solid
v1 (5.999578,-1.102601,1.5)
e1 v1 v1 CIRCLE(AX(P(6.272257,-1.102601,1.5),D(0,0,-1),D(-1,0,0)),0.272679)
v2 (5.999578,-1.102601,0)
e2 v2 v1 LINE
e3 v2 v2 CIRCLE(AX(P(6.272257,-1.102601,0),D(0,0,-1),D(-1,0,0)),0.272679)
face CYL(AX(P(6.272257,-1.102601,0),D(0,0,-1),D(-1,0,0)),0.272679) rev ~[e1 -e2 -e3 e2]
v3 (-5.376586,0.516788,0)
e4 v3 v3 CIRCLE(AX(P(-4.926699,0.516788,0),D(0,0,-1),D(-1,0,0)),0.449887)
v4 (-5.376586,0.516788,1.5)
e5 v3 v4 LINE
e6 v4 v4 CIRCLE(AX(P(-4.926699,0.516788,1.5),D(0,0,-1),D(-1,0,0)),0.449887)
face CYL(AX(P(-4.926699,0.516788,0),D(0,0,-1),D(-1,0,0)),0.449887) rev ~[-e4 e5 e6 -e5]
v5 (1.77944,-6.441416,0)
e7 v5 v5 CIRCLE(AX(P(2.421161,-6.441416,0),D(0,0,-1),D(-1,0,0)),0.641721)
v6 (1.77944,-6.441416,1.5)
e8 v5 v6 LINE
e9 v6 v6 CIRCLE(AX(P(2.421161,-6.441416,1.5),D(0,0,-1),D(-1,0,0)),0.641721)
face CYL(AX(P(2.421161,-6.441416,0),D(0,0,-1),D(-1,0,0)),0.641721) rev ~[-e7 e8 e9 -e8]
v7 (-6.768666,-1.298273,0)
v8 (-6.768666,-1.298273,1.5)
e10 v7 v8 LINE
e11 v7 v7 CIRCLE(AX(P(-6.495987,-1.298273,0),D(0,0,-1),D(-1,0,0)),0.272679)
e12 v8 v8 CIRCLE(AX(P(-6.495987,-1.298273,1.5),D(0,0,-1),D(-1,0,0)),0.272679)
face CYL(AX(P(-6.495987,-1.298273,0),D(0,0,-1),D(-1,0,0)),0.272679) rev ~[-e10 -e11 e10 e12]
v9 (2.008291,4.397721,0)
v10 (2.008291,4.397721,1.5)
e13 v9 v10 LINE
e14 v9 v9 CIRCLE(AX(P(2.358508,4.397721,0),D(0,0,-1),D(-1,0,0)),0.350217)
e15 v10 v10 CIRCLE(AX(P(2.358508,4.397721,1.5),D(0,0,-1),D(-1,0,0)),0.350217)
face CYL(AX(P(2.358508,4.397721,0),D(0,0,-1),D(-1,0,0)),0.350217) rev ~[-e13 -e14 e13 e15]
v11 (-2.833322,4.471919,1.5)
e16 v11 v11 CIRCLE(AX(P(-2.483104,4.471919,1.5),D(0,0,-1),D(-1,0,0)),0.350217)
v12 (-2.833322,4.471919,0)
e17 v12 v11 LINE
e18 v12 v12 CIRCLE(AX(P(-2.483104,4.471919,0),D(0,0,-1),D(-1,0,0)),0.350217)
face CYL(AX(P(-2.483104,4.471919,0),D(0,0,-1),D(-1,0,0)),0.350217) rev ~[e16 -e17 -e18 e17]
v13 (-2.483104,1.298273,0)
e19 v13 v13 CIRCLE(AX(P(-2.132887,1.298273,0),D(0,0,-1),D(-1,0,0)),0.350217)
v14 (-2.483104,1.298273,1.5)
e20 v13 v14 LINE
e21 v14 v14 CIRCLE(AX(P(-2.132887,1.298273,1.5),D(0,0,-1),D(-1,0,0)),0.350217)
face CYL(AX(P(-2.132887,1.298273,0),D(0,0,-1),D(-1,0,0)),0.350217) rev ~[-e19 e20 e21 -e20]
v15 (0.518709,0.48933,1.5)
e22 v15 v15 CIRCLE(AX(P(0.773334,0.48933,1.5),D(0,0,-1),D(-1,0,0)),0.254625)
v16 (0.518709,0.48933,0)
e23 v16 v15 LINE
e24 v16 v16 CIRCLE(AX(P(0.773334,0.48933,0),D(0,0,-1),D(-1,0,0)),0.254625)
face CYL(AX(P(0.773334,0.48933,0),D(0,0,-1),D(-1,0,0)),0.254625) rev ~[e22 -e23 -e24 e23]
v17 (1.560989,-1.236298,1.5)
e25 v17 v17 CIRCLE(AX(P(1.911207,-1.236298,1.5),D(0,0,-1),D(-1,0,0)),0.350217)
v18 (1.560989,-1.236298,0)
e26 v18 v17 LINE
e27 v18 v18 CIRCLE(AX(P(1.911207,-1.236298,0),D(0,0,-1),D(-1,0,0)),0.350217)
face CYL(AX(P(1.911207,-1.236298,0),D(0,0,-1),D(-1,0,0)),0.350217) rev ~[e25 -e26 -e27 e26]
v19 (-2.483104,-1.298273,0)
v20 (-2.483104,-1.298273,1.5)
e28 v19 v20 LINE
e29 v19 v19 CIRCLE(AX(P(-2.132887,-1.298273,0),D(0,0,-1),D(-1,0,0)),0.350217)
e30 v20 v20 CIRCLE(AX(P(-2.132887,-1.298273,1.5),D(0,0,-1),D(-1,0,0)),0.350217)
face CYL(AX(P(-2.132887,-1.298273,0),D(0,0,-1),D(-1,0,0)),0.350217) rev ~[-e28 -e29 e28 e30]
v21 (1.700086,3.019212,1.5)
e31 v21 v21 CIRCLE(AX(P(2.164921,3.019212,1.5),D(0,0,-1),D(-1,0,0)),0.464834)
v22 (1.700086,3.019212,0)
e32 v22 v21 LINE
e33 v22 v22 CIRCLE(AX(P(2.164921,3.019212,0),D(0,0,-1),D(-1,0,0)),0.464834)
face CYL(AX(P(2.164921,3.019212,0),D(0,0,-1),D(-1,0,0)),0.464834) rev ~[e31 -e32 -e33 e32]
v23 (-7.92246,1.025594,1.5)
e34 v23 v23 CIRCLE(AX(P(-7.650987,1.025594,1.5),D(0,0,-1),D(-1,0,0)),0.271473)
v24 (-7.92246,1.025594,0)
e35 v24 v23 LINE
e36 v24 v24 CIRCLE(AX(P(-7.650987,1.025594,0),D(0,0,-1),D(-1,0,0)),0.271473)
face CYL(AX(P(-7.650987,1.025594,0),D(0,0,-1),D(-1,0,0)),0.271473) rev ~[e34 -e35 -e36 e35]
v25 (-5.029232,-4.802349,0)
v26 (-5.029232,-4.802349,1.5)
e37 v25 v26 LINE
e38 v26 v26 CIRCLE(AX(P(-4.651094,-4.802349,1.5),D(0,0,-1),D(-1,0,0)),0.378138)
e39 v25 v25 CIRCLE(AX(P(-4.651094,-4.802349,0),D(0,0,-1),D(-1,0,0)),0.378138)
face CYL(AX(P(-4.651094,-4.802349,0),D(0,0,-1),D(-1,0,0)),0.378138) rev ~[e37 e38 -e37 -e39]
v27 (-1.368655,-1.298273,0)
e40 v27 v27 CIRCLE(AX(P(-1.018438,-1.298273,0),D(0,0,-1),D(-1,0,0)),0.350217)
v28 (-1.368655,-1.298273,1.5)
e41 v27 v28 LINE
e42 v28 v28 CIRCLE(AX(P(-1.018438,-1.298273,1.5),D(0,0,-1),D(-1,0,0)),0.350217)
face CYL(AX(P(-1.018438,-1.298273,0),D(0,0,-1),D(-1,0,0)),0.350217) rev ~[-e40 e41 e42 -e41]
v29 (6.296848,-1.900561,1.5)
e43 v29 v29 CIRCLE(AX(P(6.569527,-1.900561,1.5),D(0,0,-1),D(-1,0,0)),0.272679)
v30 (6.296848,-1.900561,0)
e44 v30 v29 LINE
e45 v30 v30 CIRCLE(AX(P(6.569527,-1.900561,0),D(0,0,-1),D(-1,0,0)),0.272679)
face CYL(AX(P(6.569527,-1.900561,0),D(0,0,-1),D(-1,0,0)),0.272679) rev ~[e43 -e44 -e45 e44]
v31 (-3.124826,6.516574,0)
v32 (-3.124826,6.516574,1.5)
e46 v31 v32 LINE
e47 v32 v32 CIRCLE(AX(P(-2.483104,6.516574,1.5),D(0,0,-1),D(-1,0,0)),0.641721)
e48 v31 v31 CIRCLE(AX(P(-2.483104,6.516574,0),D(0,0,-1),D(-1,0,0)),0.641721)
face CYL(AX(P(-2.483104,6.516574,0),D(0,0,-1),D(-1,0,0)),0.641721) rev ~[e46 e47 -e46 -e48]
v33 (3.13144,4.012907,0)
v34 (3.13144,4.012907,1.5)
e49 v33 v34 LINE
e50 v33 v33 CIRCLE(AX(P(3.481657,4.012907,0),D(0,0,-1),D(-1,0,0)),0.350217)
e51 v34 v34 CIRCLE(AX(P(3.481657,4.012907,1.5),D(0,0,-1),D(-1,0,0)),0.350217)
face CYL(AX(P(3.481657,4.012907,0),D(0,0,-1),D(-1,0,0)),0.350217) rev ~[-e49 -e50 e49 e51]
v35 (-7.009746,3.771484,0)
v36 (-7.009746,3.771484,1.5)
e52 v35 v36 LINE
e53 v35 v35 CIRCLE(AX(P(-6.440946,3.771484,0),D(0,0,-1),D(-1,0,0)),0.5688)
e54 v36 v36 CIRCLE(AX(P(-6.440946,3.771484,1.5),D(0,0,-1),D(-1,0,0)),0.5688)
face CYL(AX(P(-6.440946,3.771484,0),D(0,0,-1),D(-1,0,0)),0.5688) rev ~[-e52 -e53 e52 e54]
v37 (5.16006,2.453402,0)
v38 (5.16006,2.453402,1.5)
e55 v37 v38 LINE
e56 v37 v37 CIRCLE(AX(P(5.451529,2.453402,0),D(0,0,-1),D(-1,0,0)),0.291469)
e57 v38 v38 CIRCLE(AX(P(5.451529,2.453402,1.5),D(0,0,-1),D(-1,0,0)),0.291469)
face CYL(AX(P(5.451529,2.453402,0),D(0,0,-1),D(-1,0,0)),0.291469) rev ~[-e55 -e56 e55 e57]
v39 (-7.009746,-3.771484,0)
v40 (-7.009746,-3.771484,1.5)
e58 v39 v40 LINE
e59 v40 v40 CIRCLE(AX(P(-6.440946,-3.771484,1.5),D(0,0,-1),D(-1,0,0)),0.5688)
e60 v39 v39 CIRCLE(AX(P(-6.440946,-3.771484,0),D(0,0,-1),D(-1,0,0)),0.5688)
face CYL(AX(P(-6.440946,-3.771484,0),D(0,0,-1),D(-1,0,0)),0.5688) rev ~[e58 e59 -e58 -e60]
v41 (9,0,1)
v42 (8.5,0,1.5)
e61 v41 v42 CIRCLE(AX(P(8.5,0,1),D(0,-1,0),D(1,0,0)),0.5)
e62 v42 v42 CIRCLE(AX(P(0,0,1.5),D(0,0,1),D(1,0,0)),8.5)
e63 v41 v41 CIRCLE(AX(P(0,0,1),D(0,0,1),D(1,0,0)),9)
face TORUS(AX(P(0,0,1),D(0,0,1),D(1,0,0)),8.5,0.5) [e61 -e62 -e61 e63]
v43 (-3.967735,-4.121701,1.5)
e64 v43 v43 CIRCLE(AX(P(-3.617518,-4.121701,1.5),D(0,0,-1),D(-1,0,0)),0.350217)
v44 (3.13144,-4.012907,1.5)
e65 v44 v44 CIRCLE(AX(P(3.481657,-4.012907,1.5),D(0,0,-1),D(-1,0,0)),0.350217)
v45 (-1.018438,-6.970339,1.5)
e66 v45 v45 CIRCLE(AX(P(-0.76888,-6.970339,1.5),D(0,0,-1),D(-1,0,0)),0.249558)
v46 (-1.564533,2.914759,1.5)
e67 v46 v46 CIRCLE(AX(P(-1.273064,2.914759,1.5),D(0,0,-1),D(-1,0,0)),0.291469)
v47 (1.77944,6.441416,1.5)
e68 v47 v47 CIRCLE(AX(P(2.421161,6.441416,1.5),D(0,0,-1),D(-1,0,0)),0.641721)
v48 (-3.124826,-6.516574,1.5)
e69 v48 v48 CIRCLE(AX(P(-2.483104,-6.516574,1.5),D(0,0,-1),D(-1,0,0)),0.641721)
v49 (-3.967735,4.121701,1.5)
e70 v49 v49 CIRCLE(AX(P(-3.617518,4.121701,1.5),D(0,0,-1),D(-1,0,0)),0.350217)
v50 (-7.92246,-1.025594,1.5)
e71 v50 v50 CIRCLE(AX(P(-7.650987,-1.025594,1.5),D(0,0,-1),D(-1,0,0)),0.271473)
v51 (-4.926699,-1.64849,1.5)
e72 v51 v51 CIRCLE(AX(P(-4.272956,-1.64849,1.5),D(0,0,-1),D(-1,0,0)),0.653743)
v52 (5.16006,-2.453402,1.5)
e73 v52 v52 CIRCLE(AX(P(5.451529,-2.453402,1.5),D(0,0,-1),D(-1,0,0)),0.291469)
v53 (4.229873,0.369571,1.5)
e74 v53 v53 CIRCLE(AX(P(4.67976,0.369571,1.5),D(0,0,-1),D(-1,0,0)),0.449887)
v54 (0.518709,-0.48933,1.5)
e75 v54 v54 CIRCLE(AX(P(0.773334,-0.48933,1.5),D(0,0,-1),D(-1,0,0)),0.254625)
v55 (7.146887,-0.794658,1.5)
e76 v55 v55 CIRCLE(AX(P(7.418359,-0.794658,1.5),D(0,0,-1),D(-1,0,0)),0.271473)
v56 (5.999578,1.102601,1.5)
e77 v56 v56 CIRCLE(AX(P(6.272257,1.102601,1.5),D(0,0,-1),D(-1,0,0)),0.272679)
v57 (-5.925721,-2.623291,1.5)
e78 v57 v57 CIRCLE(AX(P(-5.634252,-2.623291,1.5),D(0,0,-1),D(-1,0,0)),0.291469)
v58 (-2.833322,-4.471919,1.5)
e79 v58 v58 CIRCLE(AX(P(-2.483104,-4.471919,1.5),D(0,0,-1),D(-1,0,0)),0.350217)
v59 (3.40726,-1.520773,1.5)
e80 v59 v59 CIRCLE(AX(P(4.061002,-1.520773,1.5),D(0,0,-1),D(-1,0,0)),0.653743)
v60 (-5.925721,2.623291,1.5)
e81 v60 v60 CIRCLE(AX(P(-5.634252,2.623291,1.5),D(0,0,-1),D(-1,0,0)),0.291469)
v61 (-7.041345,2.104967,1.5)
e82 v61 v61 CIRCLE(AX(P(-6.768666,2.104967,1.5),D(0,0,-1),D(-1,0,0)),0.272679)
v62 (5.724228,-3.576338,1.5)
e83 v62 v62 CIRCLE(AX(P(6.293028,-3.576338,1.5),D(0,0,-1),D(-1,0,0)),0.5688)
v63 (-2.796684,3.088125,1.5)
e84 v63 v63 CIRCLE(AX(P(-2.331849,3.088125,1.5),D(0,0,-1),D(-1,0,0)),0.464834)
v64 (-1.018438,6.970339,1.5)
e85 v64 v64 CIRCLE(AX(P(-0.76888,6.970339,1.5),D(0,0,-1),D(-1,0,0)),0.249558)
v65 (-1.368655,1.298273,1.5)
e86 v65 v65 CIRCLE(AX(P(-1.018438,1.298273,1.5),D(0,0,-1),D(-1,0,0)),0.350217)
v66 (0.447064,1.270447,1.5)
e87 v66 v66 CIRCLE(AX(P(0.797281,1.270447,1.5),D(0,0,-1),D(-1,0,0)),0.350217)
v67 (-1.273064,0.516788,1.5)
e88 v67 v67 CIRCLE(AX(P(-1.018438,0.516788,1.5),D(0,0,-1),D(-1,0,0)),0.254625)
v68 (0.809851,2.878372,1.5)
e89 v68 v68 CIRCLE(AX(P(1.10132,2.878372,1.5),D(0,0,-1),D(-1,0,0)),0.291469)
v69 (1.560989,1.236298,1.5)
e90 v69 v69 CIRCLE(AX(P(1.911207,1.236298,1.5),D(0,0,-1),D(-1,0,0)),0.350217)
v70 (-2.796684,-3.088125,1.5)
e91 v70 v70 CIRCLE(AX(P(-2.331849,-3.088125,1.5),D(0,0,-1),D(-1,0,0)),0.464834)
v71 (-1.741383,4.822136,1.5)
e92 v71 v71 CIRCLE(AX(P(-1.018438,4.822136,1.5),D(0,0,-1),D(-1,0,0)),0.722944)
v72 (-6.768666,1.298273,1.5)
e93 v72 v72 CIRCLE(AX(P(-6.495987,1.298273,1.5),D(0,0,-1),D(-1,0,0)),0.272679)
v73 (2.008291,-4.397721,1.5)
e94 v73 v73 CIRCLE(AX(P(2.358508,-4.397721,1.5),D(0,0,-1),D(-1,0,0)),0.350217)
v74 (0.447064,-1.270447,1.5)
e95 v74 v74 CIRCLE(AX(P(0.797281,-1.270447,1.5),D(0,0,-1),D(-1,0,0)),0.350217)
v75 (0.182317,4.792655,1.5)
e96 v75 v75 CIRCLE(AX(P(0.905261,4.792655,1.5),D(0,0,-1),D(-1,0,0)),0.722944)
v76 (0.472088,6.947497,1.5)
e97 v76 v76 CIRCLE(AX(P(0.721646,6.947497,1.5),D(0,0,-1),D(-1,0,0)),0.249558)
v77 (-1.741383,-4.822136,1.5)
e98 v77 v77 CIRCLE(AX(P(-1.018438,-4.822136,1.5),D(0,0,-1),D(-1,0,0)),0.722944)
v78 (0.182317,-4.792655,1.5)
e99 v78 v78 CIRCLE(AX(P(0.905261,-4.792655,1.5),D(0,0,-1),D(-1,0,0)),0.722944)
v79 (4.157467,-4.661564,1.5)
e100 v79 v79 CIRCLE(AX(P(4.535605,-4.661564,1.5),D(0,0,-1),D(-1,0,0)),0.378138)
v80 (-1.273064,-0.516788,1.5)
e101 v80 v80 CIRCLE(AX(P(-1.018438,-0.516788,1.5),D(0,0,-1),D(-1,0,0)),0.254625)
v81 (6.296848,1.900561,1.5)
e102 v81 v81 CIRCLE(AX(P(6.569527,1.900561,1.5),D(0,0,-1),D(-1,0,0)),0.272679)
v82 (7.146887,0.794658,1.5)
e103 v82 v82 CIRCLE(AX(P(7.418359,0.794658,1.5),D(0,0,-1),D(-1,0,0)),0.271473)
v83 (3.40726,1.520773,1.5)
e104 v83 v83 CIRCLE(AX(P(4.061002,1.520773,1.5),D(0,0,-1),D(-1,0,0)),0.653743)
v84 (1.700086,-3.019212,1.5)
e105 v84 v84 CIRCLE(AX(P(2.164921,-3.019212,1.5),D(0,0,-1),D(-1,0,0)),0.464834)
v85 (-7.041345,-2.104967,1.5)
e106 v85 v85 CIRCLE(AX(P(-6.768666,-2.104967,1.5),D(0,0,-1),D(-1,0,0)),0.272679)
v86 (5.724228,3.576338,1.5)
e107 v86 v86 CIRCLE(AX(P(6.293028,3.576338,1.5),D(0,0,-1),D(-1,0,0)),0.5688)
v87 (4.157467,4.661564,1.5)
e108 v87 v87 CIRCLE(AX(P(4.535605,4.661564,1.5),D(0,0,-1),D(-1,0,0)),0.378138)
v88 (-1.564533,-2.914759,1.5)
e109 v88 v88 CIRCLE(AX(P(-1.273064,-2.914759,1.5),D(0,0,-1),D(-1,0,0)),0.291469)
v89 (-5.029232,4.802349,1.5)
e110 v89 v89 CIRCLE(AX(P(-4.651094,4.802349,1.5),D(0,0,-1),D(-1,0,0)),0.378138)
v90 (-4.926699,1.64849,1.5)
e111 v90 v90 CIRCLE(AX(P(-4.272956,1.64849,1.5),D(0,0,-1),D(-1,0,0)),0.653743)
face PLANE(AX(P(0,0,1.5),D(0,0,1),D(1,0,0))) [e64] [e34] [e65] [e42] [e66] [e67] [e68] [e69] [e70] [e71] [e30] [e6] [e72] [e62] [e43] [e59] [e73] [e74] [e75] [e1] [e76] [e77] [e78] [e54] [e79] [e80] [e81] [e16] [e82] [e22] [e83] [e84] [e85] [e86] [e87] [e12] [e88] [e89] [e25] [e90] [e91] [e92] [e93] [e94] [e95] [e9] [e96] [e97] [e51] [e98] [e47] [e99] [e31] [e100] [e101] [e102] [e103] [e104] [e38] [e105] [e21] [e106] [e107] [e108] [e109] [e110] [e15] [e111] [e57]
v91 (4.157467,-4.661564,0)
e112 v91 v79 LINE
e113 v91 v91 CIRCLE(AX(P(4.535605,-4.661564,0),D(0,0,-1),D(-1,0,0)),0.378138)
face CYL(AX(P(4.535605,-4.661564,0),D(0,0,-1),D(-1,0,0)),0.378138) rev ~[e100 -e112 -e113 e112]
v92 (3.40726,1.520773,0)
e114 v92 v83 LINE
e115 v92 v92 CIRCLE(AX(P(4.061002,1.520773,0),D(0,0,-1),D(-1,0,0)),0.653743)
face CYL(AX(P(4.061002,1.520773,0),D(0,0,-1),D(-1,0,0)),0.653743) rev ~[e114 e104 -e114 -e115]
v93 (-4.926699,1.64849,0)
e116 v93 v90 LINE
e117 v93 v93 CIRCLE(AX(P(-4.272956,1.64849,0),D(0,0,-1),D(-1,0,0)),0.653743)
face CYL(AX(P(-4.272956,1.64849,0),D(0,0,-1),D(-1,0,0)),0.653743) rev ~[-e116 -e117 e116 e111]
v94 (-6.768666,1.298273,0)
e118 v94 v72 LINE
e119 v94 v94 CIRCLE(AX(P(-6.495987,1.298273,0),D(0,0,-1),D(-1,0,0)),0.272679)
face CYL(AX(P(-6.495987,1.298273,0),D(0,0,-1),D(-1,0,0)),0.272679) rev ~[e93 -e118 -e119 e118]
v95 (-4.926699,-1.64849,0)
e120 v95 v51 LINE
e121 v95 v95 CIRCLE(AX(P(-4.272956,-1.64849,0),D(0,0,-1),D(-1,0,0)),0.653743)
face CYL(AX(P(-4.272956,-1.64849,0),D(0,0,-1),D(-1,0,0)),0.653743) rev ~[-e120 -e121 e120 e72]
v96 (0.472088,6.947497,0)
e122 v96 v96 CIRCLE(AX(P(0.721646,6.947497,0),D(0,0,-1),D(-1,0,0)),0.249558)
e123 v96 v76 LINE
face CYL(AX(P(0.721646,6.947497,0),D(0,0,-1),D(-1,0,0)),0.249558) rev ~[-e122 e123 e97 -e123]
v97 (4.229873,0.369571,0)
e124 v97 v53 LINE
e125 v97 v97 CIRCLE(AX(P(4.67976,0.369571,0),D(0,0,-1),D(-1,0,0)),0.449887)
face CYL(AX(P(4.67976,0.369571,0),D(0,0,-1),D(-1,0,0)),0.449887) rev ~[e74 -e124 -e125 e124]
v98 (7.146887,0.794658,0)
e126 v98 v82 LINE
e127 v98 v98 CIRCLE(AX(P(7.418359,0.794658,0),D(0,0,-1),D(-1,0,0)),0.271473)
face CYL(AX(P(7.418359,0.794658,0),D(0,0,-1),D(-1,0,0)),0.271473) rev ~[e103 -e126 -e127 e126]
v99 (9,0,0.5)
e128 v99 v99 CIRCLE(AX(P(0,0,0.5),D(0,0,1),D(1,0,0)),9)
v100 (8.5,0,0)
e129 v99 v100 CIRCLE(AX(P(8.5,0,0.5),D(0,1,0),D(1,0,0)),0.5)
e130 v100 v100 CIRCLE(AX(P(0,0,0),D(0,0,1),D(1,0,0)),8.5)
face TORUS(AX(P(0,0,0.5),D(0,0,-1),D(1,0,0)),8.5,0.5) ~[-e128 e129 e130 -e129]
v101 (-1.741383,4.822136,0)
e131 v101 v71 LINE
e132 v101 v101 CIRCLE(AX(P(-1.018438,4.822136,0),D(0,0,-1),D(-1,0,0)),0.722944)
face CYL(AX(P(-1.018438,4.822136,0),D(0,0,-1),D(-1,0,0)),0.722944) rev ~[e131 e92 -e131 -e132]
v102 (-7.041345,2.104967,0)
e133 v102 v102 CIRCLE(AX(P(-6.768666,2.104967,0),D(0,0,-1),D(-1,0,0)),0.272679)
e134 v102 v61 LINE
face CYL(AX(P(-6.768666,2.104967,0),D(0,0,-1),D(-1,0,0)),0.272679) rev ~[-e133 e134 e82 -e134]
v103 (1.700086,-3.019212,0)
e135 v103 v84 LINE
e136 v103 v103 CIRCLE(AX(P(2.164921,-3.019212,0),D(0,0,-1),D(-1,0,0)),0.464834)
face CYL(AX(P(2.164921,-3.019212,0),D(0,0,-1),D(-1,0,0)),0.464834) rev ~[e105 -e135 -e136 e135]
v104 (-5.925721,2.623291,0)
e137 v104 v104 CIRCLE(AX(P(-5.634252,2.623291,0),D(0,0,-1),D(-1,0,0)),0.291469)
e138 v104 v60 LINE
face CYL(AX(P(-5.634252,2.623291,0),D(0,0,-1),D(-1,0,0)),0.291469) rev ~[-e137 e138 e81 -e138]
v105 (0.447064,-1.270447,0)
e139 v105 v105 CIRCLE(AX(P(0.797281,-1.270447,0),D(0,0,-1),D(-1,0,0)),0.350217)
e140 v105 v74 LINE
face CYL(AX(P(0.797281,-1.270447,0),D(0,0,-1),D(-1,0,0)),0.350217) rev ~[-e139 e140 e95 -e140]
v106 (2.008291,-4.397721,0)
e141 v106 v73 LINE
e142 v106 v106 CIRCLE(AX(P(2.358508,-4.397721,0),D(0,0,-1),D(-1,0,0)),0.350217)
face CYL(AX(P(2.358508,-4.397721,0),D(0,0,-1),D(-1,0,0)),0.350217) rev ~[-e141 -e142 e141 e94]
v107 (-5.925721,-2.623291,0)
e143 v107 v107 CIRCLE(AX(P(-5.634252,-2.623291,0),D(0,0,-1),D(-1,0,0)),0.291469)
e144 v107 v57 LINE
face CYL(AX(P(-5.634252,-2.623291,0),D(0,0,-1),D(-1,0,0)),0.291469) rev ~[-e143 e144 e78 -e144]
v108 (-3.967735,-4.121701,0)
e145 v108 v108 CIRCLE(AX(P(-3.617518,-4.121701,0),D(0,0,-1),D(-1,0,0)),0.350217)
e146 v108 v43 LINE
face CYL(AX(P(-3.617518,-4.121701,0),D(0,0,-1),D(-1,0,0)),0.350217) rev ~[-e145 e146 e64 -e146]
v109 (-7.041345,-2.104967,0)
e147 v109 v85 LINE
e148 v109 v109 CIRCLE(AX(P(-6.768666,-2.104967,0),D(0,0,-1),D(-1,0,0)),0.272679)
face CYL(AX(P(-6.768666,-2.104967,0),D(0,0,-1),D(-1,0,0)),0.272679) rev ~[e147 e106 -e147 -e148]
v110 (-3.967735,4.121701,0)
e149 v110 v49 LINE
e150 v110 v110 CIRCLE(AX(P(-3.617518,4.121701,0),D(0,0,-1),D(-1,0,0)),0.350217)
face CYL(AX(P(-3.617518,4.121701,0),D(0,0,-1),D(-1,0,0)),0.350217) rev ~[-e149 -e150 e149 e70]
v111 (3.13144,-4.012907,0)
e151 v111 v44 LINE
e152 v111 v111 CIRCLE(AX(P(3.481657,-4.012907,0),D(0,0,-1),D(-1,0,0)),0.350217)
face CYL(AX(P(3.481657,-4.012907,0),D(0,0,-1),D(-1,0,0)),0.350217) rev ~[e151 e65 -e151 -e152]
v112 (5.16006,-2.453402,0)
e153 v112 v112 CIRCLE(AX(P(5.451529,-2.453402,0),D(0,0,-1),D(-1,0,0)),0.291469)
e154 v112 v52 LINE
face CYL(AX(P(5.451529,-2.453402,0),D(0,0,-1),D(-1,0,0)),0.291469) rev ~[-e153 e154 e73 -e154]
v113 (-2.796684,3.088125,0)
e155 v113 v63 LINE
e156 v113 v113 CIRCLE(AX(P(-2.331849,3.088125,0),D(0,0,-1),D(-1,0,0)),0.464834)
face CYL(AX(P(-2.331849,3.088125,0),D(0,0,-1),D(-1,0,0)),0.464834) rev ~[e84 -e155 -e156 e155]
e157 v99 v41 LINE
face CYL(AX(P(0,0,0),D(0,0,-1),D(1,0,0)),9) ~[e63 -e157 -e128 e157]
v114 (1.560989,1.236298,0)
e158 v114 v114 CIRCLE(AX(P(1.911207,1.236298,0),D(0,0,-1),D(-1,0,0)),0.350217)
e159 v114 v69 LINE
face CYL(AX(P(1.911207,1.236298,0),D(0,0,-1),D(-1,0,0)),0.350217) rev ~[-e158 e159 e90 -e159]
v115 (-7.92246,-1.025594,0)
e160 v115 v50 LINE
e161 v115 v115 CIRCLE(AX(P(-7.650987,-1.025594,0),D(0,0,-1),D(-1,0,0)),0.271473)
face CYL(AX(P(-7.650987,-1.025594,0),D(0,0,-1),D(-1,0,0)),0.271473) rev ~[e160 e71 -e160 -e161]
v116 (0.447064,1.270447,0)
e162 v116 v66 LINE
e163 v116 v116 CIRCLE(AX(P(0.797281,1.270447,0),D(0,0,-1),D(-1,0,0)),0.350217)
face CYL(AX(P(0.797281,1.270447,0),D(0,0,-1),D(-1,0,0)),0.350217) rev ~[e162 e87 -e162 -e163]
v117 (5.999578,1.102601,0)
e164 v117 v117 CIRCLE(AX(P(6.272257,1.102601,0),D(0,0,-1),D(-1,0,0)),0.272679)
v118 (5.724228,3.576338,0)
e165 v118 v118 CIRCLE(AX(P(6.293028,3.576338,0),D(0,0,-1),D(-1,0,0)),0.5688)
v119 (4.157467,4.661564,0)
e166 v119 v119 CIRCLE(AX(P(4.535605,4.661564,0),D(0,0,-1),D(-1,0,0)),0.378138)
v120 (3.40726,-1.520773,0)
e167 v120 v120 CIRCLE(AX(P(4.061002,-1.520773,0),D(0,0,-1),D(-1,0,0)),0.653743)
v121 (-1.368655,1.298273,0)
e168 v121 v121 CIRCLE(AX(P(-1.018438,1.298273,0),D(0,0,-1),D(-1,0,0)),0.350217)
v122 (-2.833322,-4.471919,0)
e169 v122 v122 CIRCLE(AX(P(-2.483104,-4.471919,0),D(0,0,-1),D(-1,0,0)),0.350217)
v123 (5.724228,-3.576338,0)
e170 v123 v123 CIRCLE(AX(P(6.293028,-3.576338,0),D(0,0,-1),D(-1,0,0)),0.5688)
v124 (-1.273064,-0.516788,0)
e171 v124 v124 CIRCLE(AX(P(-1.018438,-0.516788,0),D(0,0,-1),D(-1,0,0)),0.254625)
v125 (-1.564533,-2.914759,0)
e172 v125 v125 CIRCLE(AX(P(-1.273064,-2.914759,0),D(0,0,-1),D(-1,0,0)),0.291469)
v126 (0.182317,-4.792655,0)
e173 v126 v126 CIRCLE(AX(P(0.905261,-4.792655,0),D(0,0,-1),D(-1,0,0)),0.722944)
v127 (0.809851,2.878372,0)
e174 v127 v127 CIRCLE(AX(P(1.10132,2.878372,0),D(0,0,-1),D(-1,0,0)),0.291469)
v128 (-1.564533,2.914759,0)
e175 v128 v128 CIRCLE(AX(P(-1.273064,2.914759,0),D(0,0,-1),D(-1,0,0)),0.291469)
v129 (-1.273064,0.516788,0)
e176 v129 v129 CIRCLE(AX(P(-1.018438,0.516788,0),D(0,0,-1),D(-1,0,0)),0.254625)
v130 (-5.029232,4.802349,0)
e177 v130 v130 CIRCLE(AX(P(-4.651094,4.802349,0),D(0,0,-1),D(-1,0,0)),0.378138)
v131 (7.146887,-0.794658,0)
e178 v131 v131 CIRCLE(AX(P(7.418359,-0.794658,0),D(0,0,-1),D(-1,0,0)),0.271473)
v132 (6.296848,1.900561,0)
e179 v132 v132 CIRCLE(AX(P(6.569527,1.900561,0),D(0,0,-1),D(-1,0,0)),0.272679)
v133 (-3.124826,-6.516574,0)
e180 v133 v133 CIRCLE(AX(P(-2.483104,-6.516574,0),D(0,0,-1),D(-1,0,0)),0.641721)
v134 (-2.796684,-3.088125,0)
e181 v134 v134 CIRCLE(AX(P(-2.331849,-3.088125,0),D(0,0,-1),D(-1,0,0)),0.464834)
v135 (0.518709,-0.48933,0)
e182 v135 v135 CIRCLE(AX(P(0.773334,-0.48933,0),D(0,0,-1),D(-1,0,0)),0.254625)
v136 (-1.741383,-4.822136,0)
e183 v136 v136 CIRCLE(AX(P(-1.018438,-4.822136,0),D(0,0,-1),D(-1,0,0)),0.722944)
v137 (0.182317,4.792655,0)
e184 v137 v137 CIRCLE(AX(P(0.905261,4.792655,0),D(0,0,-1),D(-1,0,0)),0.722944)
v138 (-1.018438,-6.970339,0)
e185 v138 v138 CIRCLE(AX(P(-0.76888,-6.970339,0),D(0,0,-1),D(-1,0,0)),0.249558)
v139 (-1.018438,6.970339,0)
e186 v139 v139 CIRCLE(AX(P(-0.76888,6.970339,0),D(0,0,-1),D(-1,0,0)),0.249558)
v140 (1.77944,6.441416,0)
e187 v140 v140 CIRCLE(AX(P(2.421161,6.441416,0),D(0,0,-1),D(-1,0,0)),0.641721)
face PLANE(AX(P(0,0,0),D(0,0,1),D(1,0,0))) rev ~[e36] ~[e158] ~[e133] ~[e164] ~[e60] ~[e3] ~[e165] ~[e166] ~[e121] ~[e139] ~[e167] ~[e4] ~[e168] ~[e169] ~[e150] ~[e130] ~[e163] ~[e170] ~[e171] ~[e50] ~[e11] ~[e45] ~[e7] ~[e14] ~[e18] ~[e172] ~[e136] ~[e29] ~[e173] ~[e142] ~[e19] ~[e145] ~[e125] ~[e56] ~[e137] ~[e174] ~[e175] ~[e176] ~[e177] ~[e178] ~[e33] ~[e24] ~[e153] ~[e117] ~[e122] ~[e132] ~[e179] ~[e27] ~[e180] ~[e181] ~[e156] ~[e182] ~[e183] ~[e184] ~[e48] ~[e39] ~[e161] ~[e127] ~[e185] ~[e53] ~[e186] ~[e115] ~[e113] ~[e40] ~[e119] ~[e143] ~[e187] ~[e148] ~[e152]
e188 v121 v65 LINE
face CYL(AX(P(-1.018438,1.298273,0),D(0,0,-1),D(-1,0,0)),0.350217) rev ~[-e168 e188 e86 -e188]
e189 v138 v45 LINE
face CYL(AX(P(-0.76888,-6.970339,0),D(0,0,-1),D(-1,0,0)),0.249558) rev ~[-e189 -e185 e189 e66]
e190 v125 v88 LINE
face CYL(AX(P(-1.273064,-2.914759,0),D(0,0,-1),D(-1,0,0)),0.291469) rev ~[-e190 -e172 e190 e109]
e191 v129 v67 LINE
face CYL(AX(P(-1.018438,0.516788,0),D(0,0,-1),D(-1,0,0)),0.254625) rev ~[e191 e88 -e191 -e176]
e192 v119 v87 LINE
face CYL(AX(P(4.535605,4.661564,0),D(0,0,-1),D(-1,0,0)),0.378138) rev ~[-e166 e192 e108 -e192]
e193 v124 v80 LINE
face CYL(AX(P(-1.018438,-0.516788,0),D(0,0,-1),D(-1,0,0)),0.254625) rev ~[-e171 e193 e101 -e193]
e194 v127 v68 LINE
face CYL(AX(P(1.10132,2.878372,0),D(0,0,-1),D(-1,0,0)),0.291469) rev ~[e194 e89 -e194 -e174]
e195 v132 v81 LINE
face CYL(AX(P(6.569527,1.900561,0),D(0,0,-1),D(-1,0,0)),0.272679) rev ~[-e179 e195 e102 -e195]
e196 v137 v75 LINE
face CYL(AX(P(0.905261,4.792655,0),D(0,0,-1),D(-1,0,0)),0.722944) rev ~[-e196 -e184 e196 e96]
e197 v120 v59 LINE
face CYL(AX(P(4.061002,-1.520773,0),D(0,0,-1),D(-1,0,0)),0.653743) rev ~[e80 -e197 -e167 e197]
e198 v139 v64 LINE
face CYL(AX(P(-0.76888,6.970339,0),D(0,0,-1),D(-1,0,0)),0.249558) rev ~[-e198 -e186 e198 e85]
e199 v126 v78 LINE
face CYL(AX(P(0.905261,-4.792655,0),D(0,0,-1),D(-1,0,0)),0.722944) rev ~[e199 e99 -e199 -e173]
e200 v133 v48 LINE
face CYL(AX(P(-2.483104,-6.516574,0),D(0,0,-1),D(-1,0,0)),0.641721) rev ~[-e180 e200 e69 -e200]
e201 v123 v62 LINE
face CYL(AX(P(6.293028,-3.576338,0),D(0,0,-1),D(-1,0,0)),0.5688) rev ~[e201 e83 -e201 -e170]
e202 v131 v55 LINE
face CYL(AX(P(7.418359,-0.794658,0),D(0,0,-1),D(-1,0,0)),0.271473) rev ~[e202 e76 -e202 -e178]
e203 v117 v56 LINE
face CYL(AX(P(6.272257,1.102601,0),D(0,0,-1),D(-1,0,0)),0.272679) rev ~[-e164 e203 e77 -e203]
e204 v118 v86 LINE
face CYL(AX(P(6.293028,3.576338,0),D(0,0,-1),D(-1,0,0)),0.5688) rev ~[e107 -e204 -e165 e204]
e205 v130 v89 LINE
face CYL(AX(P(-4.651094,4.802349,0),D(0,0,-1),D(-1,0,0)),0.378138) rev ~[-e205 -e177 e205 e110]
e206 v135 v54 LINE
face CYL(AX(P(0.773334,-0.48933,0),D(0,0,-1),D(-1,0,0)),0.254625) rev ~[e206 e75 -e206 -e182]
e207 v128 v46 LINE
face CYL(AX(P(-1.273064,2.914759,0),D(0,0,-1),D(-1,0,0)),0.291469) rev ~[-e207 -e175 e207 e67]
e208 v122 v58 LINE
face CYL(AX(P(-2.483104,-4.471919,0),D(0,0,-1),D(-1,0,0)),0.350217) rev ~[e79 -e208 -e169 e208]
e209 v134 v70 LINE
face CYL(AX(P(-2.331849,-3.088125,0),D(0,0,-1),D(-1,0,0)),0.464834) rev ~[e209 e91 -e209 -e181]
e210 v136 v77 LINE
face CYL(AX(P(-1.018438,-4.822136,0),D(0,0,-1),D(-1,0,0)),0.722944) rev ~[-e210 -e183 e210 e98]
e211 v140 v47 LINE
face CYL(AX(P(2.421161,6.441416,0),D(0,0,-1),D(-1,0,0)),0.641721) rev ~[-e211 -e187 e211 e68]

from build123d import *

# Parameters (mm, degrees)
SKETCH1_R           = 9
BOSS_EXTRUDE1_DEPTH = 1.5
FILLET1_R           = 0.5
SKETCH2_R           = 0.249558175
SKETCH2_R_2         = 0.641721022
SKETCH2_R_3         = 0.350217157
SKETCH2_R_4         = 0.378137739
SKETCH2_R_5         = 0.464834359
SKETCH2_R_6         = 0.653742585
SKETCH2_R_7         = 0.291468835
SKETCH2_R_8         = 0.568800221
SKETCH2_R_9         = 0.272679001
SKETCH2_R_10        = 0.271472764
SKETCH2_R_11        = 0.449886638
SKETCH2_R_12        = 0.722944318
SKETCH2_R_13        = 0.254625476
CUT_EXTRUDE1_DEPTH  = 1.5


with BuildPart() as part:
    # Sketch1 → Boss-Extrude1 (new body)
    with BuildSketch(Plane.XY):
        Circle(SKETCH1_R)
    extrude(amount=BOSS_EXTRUDE1_DEPTH)

    # Fillet1
    fillet1_edges = [part.edges().sort_by_distance(p)[0] for p in [
        (-9, 0, 0),
        (-9, 0, 1.5),
    ]]
    fillet(fillet1_edges, radius=FILLET1_R)

    # Sketch2 → Cut-Extrude1 (cut)
    with BuildSketch(Plane(origin=(0, 0, 0), x_dir=(-1, 0, 0), z_dir=(0, 0, -1))):
        with Locations((0.768880069, 6.970338983)):
            Circle(SKETCH2_R)
        with Locations((2.483104484, 6.516573697)):
            Circle(SKETCH2_R_2)
        with Locations((3.6175177, 4.121701352)):
            Circle(SKETCH2_R_3)
        with Locations((4.651094186, 4.802349281)):
            Circle(SKETCH2_R_4)
        with Locations((2.483104484, 4.471918509)):
            Circle(SKETCH2_R_3)
        with Locations((2.331849389, 3.088124866)):
            Circle(SKETCH2_R_5)
        with Locations((2.132887327, 1.298272903)):
            Circle(SKETCH2_R_3)
        with Locations((4.272956447, 1.64849006)):
            Circle(SKETCH2_R_6)
        with Locations((5.634252306, 2.623290507)):
            Circle(SKETCH2_R_7)
        with Locations((6.440946149, 3.771484195)):
            Circle(SKETCH2_R_8)
        with Locations((6.768665522, 2.104966745)):
            Circle(SKETCH2_R_9)
        with Locations((6.495986521, 1.298272903)):
            Circle(SKETCH2_R_9)
        with Locations((7.650986913, 1.025593902)):
            Circle(SKETCH2_R_10)
        with Locations((4.926699032, 0.516788243)):
            Circle(SKETCH2_R_11)
        with Locations((1.018438244, 4.822135666)):
            Circle(SKETCH2_R_12)
        with Locations((1.27306372, 2.914759342)):
            Circle(SKETCH2_R_7)
        with Locations((1.018438244, 1.298272903)):
            Circle(SKETCH2_R_3)
        with Locations((1.018438244, 0.516788243)):
            Circle(SKETCH2_R_13)
        with Locations((-0.773334123, 0.489329569)):
            Circle(SKETCH2_R_13)
        with Locations((-0.797280796, 1.27044725)):
            Circle(SKETCH2_R_3)
        with Locations((-1.911206542, 1.236297701)):
            Circle(SKETCH2_R_3)
        with Locations((-1.101319949, 2.878372227)):
            Circle(SKETCH2_R_7)
        with Locations((-2.164920779, 3.01921246)):
            Circle(SKETCH2_R_5)
        with Locations((-4.679759619, 0.369570539)):
            Circle(SKETCH2_R_11)
        with Locations((-4.061002244, 1.520773249)):
            Circle(SKETCH2_R_6)
        with Locations((-5.451529208, 2.453402377)):
            Circle(SKETCH2_R_7)
        with Locations((-6.272256856, 1.102601268)):
            Circle(SKETCH2_R_9)
        with Locations((-7.418359291, 0.794658172)):
            Circle(SKETCH2_R_10)
        with Locations((-6.569526956, 1.900560716)):
            Circle(SKETCH2_R_9)
        with Locations((-6.293027801, 3.576337734)):
            Circle(SKETCH2_R_8)
        with Locations((-4.535604663, 4.661564341)):
            Circle(SKETCH2_R_4)
        with Locations((-3.481656757, 4.012907446)):
            Circle(SKETCH2_R_3)
        with Locations((-2.358507796, 4.397721443)):
            Circle(SKETCH2_R_3)
        with Locations((-2.42116122, 6.441416476)):
            Circle(SKETCH2_R_2)
        with Locations((-0.721646312, 6.947496864)):
            Circle(SKETCH2_R)
        with Locations((-0.905260895, 4.792655232)):
            Circle(SKETCH2_R_12)
        with Locations((7.650986913, -1.025593902)):
            Circle(SKETCH2_R_10)
        with Locations((6.768665522, -2.104966745)):
            Circle(SKETCH2_R_9)
        with Locations((6.495986521, -1.298272903)):
            Circle(SKETCH2_R_9)
        with Locations((6.440946149, -3.771484195)):
            Circle(SKETCH2_R_8)
        with Locations((5.634252306, -2.623290507)):
            Circle(SKETCH2_R_7)
        with Locations((4.272956447, -1.64849006)):
            Circle(SKETCH2_R_6)
        with Locations((2.132887327, -1.298272903)):
            Circle(SKETCH2_R_3)
        with Locations((2.331849389, -3.088124866)):
            Circle(SKETCH2_R_5)
        with Locations((2.483104484, -4.471918509)):
            Circle(SKETCH2_R_3)
        with Locations((3.6175177, -4.121701352)):
            Circle(SKETCH2_R_3)
        with Locations((4.651094186, -4.802349281)):
            Circle(SKETCH2_R_4)
        with Locations((0.768880069, -6.970338983)):
            Circle(SKETCH2_R)
        with Locations((2.483104484, -6.516573697)):
            Circle(SKETCH2_R_2)
        with Locations((1.018438244, -4.822135666)):
            Circle(SKETCH2_R_12)
        with Locations((1.27306372, -2.914759342)):
            Circle(SKETCH2_R_7)
        with Locations((1.018438244, -1.298272903)):
            Circle(SKETCH2_R_3)
        with Locations((1.018438244, -0.516788243)):
            Circle(SKETCH2_R_13)
        with Locations((-0.797280796, -1.27044725)):
            Circle(SKETCH2_R_3)
        with Locations((-0.773334123, -0.489329569)):
            Circle(SKETCH2_R_13)
        with Locations((-1.911206542, -1.236297701)):
            Circle(SKETCH2_R_3)
        with Locations((-2.358507796, -4.397721443)):
            Circle(SKETCH2_R_3)
        with Locations((-0.905260895, -4.792655232)):
            Circle(SKETCH2_R_12)
        with Locations((-3.481656757, -4.012907446)):
            Circle(SKETCH2_R_3)
        with Locations((-2.164920779, -3.01921246)):
            Circle(SKETCH2_R_5)
        with Locations((-4.061002244, -1.520773249)):
            Circle(SKETCH2_R_6)
        with Locations((-5.451529208, -2.453402377)):
            Circle(SKETCH2_R_7)
        with Locations((-6.272256856, -1.102601268)):
            Circle(SKETCH2_R_9)
        with Locations((-7.418359291, -0.794658172)):
            Circle(SKETCH2_R_10)
        with Locations((-6.569526956, -1.900560716)):
            Circle(SKETCH2_R_9)
        with Locations((-6.293027801, -3.576337734)):
            Circle(SKETCH2_R_8)
        with Locations((-4.535604663, -4.661564341)):
            Circle(SKETCH2_R_4)
        with Locations((-2.42116122, -6.441416476)):
            Circle(SKETCH2_R_2)
    extrude(amount=-CUT_EXTRUDE1_DEPTH, mode=Mode.SUBTRACT)


solid = part.part
